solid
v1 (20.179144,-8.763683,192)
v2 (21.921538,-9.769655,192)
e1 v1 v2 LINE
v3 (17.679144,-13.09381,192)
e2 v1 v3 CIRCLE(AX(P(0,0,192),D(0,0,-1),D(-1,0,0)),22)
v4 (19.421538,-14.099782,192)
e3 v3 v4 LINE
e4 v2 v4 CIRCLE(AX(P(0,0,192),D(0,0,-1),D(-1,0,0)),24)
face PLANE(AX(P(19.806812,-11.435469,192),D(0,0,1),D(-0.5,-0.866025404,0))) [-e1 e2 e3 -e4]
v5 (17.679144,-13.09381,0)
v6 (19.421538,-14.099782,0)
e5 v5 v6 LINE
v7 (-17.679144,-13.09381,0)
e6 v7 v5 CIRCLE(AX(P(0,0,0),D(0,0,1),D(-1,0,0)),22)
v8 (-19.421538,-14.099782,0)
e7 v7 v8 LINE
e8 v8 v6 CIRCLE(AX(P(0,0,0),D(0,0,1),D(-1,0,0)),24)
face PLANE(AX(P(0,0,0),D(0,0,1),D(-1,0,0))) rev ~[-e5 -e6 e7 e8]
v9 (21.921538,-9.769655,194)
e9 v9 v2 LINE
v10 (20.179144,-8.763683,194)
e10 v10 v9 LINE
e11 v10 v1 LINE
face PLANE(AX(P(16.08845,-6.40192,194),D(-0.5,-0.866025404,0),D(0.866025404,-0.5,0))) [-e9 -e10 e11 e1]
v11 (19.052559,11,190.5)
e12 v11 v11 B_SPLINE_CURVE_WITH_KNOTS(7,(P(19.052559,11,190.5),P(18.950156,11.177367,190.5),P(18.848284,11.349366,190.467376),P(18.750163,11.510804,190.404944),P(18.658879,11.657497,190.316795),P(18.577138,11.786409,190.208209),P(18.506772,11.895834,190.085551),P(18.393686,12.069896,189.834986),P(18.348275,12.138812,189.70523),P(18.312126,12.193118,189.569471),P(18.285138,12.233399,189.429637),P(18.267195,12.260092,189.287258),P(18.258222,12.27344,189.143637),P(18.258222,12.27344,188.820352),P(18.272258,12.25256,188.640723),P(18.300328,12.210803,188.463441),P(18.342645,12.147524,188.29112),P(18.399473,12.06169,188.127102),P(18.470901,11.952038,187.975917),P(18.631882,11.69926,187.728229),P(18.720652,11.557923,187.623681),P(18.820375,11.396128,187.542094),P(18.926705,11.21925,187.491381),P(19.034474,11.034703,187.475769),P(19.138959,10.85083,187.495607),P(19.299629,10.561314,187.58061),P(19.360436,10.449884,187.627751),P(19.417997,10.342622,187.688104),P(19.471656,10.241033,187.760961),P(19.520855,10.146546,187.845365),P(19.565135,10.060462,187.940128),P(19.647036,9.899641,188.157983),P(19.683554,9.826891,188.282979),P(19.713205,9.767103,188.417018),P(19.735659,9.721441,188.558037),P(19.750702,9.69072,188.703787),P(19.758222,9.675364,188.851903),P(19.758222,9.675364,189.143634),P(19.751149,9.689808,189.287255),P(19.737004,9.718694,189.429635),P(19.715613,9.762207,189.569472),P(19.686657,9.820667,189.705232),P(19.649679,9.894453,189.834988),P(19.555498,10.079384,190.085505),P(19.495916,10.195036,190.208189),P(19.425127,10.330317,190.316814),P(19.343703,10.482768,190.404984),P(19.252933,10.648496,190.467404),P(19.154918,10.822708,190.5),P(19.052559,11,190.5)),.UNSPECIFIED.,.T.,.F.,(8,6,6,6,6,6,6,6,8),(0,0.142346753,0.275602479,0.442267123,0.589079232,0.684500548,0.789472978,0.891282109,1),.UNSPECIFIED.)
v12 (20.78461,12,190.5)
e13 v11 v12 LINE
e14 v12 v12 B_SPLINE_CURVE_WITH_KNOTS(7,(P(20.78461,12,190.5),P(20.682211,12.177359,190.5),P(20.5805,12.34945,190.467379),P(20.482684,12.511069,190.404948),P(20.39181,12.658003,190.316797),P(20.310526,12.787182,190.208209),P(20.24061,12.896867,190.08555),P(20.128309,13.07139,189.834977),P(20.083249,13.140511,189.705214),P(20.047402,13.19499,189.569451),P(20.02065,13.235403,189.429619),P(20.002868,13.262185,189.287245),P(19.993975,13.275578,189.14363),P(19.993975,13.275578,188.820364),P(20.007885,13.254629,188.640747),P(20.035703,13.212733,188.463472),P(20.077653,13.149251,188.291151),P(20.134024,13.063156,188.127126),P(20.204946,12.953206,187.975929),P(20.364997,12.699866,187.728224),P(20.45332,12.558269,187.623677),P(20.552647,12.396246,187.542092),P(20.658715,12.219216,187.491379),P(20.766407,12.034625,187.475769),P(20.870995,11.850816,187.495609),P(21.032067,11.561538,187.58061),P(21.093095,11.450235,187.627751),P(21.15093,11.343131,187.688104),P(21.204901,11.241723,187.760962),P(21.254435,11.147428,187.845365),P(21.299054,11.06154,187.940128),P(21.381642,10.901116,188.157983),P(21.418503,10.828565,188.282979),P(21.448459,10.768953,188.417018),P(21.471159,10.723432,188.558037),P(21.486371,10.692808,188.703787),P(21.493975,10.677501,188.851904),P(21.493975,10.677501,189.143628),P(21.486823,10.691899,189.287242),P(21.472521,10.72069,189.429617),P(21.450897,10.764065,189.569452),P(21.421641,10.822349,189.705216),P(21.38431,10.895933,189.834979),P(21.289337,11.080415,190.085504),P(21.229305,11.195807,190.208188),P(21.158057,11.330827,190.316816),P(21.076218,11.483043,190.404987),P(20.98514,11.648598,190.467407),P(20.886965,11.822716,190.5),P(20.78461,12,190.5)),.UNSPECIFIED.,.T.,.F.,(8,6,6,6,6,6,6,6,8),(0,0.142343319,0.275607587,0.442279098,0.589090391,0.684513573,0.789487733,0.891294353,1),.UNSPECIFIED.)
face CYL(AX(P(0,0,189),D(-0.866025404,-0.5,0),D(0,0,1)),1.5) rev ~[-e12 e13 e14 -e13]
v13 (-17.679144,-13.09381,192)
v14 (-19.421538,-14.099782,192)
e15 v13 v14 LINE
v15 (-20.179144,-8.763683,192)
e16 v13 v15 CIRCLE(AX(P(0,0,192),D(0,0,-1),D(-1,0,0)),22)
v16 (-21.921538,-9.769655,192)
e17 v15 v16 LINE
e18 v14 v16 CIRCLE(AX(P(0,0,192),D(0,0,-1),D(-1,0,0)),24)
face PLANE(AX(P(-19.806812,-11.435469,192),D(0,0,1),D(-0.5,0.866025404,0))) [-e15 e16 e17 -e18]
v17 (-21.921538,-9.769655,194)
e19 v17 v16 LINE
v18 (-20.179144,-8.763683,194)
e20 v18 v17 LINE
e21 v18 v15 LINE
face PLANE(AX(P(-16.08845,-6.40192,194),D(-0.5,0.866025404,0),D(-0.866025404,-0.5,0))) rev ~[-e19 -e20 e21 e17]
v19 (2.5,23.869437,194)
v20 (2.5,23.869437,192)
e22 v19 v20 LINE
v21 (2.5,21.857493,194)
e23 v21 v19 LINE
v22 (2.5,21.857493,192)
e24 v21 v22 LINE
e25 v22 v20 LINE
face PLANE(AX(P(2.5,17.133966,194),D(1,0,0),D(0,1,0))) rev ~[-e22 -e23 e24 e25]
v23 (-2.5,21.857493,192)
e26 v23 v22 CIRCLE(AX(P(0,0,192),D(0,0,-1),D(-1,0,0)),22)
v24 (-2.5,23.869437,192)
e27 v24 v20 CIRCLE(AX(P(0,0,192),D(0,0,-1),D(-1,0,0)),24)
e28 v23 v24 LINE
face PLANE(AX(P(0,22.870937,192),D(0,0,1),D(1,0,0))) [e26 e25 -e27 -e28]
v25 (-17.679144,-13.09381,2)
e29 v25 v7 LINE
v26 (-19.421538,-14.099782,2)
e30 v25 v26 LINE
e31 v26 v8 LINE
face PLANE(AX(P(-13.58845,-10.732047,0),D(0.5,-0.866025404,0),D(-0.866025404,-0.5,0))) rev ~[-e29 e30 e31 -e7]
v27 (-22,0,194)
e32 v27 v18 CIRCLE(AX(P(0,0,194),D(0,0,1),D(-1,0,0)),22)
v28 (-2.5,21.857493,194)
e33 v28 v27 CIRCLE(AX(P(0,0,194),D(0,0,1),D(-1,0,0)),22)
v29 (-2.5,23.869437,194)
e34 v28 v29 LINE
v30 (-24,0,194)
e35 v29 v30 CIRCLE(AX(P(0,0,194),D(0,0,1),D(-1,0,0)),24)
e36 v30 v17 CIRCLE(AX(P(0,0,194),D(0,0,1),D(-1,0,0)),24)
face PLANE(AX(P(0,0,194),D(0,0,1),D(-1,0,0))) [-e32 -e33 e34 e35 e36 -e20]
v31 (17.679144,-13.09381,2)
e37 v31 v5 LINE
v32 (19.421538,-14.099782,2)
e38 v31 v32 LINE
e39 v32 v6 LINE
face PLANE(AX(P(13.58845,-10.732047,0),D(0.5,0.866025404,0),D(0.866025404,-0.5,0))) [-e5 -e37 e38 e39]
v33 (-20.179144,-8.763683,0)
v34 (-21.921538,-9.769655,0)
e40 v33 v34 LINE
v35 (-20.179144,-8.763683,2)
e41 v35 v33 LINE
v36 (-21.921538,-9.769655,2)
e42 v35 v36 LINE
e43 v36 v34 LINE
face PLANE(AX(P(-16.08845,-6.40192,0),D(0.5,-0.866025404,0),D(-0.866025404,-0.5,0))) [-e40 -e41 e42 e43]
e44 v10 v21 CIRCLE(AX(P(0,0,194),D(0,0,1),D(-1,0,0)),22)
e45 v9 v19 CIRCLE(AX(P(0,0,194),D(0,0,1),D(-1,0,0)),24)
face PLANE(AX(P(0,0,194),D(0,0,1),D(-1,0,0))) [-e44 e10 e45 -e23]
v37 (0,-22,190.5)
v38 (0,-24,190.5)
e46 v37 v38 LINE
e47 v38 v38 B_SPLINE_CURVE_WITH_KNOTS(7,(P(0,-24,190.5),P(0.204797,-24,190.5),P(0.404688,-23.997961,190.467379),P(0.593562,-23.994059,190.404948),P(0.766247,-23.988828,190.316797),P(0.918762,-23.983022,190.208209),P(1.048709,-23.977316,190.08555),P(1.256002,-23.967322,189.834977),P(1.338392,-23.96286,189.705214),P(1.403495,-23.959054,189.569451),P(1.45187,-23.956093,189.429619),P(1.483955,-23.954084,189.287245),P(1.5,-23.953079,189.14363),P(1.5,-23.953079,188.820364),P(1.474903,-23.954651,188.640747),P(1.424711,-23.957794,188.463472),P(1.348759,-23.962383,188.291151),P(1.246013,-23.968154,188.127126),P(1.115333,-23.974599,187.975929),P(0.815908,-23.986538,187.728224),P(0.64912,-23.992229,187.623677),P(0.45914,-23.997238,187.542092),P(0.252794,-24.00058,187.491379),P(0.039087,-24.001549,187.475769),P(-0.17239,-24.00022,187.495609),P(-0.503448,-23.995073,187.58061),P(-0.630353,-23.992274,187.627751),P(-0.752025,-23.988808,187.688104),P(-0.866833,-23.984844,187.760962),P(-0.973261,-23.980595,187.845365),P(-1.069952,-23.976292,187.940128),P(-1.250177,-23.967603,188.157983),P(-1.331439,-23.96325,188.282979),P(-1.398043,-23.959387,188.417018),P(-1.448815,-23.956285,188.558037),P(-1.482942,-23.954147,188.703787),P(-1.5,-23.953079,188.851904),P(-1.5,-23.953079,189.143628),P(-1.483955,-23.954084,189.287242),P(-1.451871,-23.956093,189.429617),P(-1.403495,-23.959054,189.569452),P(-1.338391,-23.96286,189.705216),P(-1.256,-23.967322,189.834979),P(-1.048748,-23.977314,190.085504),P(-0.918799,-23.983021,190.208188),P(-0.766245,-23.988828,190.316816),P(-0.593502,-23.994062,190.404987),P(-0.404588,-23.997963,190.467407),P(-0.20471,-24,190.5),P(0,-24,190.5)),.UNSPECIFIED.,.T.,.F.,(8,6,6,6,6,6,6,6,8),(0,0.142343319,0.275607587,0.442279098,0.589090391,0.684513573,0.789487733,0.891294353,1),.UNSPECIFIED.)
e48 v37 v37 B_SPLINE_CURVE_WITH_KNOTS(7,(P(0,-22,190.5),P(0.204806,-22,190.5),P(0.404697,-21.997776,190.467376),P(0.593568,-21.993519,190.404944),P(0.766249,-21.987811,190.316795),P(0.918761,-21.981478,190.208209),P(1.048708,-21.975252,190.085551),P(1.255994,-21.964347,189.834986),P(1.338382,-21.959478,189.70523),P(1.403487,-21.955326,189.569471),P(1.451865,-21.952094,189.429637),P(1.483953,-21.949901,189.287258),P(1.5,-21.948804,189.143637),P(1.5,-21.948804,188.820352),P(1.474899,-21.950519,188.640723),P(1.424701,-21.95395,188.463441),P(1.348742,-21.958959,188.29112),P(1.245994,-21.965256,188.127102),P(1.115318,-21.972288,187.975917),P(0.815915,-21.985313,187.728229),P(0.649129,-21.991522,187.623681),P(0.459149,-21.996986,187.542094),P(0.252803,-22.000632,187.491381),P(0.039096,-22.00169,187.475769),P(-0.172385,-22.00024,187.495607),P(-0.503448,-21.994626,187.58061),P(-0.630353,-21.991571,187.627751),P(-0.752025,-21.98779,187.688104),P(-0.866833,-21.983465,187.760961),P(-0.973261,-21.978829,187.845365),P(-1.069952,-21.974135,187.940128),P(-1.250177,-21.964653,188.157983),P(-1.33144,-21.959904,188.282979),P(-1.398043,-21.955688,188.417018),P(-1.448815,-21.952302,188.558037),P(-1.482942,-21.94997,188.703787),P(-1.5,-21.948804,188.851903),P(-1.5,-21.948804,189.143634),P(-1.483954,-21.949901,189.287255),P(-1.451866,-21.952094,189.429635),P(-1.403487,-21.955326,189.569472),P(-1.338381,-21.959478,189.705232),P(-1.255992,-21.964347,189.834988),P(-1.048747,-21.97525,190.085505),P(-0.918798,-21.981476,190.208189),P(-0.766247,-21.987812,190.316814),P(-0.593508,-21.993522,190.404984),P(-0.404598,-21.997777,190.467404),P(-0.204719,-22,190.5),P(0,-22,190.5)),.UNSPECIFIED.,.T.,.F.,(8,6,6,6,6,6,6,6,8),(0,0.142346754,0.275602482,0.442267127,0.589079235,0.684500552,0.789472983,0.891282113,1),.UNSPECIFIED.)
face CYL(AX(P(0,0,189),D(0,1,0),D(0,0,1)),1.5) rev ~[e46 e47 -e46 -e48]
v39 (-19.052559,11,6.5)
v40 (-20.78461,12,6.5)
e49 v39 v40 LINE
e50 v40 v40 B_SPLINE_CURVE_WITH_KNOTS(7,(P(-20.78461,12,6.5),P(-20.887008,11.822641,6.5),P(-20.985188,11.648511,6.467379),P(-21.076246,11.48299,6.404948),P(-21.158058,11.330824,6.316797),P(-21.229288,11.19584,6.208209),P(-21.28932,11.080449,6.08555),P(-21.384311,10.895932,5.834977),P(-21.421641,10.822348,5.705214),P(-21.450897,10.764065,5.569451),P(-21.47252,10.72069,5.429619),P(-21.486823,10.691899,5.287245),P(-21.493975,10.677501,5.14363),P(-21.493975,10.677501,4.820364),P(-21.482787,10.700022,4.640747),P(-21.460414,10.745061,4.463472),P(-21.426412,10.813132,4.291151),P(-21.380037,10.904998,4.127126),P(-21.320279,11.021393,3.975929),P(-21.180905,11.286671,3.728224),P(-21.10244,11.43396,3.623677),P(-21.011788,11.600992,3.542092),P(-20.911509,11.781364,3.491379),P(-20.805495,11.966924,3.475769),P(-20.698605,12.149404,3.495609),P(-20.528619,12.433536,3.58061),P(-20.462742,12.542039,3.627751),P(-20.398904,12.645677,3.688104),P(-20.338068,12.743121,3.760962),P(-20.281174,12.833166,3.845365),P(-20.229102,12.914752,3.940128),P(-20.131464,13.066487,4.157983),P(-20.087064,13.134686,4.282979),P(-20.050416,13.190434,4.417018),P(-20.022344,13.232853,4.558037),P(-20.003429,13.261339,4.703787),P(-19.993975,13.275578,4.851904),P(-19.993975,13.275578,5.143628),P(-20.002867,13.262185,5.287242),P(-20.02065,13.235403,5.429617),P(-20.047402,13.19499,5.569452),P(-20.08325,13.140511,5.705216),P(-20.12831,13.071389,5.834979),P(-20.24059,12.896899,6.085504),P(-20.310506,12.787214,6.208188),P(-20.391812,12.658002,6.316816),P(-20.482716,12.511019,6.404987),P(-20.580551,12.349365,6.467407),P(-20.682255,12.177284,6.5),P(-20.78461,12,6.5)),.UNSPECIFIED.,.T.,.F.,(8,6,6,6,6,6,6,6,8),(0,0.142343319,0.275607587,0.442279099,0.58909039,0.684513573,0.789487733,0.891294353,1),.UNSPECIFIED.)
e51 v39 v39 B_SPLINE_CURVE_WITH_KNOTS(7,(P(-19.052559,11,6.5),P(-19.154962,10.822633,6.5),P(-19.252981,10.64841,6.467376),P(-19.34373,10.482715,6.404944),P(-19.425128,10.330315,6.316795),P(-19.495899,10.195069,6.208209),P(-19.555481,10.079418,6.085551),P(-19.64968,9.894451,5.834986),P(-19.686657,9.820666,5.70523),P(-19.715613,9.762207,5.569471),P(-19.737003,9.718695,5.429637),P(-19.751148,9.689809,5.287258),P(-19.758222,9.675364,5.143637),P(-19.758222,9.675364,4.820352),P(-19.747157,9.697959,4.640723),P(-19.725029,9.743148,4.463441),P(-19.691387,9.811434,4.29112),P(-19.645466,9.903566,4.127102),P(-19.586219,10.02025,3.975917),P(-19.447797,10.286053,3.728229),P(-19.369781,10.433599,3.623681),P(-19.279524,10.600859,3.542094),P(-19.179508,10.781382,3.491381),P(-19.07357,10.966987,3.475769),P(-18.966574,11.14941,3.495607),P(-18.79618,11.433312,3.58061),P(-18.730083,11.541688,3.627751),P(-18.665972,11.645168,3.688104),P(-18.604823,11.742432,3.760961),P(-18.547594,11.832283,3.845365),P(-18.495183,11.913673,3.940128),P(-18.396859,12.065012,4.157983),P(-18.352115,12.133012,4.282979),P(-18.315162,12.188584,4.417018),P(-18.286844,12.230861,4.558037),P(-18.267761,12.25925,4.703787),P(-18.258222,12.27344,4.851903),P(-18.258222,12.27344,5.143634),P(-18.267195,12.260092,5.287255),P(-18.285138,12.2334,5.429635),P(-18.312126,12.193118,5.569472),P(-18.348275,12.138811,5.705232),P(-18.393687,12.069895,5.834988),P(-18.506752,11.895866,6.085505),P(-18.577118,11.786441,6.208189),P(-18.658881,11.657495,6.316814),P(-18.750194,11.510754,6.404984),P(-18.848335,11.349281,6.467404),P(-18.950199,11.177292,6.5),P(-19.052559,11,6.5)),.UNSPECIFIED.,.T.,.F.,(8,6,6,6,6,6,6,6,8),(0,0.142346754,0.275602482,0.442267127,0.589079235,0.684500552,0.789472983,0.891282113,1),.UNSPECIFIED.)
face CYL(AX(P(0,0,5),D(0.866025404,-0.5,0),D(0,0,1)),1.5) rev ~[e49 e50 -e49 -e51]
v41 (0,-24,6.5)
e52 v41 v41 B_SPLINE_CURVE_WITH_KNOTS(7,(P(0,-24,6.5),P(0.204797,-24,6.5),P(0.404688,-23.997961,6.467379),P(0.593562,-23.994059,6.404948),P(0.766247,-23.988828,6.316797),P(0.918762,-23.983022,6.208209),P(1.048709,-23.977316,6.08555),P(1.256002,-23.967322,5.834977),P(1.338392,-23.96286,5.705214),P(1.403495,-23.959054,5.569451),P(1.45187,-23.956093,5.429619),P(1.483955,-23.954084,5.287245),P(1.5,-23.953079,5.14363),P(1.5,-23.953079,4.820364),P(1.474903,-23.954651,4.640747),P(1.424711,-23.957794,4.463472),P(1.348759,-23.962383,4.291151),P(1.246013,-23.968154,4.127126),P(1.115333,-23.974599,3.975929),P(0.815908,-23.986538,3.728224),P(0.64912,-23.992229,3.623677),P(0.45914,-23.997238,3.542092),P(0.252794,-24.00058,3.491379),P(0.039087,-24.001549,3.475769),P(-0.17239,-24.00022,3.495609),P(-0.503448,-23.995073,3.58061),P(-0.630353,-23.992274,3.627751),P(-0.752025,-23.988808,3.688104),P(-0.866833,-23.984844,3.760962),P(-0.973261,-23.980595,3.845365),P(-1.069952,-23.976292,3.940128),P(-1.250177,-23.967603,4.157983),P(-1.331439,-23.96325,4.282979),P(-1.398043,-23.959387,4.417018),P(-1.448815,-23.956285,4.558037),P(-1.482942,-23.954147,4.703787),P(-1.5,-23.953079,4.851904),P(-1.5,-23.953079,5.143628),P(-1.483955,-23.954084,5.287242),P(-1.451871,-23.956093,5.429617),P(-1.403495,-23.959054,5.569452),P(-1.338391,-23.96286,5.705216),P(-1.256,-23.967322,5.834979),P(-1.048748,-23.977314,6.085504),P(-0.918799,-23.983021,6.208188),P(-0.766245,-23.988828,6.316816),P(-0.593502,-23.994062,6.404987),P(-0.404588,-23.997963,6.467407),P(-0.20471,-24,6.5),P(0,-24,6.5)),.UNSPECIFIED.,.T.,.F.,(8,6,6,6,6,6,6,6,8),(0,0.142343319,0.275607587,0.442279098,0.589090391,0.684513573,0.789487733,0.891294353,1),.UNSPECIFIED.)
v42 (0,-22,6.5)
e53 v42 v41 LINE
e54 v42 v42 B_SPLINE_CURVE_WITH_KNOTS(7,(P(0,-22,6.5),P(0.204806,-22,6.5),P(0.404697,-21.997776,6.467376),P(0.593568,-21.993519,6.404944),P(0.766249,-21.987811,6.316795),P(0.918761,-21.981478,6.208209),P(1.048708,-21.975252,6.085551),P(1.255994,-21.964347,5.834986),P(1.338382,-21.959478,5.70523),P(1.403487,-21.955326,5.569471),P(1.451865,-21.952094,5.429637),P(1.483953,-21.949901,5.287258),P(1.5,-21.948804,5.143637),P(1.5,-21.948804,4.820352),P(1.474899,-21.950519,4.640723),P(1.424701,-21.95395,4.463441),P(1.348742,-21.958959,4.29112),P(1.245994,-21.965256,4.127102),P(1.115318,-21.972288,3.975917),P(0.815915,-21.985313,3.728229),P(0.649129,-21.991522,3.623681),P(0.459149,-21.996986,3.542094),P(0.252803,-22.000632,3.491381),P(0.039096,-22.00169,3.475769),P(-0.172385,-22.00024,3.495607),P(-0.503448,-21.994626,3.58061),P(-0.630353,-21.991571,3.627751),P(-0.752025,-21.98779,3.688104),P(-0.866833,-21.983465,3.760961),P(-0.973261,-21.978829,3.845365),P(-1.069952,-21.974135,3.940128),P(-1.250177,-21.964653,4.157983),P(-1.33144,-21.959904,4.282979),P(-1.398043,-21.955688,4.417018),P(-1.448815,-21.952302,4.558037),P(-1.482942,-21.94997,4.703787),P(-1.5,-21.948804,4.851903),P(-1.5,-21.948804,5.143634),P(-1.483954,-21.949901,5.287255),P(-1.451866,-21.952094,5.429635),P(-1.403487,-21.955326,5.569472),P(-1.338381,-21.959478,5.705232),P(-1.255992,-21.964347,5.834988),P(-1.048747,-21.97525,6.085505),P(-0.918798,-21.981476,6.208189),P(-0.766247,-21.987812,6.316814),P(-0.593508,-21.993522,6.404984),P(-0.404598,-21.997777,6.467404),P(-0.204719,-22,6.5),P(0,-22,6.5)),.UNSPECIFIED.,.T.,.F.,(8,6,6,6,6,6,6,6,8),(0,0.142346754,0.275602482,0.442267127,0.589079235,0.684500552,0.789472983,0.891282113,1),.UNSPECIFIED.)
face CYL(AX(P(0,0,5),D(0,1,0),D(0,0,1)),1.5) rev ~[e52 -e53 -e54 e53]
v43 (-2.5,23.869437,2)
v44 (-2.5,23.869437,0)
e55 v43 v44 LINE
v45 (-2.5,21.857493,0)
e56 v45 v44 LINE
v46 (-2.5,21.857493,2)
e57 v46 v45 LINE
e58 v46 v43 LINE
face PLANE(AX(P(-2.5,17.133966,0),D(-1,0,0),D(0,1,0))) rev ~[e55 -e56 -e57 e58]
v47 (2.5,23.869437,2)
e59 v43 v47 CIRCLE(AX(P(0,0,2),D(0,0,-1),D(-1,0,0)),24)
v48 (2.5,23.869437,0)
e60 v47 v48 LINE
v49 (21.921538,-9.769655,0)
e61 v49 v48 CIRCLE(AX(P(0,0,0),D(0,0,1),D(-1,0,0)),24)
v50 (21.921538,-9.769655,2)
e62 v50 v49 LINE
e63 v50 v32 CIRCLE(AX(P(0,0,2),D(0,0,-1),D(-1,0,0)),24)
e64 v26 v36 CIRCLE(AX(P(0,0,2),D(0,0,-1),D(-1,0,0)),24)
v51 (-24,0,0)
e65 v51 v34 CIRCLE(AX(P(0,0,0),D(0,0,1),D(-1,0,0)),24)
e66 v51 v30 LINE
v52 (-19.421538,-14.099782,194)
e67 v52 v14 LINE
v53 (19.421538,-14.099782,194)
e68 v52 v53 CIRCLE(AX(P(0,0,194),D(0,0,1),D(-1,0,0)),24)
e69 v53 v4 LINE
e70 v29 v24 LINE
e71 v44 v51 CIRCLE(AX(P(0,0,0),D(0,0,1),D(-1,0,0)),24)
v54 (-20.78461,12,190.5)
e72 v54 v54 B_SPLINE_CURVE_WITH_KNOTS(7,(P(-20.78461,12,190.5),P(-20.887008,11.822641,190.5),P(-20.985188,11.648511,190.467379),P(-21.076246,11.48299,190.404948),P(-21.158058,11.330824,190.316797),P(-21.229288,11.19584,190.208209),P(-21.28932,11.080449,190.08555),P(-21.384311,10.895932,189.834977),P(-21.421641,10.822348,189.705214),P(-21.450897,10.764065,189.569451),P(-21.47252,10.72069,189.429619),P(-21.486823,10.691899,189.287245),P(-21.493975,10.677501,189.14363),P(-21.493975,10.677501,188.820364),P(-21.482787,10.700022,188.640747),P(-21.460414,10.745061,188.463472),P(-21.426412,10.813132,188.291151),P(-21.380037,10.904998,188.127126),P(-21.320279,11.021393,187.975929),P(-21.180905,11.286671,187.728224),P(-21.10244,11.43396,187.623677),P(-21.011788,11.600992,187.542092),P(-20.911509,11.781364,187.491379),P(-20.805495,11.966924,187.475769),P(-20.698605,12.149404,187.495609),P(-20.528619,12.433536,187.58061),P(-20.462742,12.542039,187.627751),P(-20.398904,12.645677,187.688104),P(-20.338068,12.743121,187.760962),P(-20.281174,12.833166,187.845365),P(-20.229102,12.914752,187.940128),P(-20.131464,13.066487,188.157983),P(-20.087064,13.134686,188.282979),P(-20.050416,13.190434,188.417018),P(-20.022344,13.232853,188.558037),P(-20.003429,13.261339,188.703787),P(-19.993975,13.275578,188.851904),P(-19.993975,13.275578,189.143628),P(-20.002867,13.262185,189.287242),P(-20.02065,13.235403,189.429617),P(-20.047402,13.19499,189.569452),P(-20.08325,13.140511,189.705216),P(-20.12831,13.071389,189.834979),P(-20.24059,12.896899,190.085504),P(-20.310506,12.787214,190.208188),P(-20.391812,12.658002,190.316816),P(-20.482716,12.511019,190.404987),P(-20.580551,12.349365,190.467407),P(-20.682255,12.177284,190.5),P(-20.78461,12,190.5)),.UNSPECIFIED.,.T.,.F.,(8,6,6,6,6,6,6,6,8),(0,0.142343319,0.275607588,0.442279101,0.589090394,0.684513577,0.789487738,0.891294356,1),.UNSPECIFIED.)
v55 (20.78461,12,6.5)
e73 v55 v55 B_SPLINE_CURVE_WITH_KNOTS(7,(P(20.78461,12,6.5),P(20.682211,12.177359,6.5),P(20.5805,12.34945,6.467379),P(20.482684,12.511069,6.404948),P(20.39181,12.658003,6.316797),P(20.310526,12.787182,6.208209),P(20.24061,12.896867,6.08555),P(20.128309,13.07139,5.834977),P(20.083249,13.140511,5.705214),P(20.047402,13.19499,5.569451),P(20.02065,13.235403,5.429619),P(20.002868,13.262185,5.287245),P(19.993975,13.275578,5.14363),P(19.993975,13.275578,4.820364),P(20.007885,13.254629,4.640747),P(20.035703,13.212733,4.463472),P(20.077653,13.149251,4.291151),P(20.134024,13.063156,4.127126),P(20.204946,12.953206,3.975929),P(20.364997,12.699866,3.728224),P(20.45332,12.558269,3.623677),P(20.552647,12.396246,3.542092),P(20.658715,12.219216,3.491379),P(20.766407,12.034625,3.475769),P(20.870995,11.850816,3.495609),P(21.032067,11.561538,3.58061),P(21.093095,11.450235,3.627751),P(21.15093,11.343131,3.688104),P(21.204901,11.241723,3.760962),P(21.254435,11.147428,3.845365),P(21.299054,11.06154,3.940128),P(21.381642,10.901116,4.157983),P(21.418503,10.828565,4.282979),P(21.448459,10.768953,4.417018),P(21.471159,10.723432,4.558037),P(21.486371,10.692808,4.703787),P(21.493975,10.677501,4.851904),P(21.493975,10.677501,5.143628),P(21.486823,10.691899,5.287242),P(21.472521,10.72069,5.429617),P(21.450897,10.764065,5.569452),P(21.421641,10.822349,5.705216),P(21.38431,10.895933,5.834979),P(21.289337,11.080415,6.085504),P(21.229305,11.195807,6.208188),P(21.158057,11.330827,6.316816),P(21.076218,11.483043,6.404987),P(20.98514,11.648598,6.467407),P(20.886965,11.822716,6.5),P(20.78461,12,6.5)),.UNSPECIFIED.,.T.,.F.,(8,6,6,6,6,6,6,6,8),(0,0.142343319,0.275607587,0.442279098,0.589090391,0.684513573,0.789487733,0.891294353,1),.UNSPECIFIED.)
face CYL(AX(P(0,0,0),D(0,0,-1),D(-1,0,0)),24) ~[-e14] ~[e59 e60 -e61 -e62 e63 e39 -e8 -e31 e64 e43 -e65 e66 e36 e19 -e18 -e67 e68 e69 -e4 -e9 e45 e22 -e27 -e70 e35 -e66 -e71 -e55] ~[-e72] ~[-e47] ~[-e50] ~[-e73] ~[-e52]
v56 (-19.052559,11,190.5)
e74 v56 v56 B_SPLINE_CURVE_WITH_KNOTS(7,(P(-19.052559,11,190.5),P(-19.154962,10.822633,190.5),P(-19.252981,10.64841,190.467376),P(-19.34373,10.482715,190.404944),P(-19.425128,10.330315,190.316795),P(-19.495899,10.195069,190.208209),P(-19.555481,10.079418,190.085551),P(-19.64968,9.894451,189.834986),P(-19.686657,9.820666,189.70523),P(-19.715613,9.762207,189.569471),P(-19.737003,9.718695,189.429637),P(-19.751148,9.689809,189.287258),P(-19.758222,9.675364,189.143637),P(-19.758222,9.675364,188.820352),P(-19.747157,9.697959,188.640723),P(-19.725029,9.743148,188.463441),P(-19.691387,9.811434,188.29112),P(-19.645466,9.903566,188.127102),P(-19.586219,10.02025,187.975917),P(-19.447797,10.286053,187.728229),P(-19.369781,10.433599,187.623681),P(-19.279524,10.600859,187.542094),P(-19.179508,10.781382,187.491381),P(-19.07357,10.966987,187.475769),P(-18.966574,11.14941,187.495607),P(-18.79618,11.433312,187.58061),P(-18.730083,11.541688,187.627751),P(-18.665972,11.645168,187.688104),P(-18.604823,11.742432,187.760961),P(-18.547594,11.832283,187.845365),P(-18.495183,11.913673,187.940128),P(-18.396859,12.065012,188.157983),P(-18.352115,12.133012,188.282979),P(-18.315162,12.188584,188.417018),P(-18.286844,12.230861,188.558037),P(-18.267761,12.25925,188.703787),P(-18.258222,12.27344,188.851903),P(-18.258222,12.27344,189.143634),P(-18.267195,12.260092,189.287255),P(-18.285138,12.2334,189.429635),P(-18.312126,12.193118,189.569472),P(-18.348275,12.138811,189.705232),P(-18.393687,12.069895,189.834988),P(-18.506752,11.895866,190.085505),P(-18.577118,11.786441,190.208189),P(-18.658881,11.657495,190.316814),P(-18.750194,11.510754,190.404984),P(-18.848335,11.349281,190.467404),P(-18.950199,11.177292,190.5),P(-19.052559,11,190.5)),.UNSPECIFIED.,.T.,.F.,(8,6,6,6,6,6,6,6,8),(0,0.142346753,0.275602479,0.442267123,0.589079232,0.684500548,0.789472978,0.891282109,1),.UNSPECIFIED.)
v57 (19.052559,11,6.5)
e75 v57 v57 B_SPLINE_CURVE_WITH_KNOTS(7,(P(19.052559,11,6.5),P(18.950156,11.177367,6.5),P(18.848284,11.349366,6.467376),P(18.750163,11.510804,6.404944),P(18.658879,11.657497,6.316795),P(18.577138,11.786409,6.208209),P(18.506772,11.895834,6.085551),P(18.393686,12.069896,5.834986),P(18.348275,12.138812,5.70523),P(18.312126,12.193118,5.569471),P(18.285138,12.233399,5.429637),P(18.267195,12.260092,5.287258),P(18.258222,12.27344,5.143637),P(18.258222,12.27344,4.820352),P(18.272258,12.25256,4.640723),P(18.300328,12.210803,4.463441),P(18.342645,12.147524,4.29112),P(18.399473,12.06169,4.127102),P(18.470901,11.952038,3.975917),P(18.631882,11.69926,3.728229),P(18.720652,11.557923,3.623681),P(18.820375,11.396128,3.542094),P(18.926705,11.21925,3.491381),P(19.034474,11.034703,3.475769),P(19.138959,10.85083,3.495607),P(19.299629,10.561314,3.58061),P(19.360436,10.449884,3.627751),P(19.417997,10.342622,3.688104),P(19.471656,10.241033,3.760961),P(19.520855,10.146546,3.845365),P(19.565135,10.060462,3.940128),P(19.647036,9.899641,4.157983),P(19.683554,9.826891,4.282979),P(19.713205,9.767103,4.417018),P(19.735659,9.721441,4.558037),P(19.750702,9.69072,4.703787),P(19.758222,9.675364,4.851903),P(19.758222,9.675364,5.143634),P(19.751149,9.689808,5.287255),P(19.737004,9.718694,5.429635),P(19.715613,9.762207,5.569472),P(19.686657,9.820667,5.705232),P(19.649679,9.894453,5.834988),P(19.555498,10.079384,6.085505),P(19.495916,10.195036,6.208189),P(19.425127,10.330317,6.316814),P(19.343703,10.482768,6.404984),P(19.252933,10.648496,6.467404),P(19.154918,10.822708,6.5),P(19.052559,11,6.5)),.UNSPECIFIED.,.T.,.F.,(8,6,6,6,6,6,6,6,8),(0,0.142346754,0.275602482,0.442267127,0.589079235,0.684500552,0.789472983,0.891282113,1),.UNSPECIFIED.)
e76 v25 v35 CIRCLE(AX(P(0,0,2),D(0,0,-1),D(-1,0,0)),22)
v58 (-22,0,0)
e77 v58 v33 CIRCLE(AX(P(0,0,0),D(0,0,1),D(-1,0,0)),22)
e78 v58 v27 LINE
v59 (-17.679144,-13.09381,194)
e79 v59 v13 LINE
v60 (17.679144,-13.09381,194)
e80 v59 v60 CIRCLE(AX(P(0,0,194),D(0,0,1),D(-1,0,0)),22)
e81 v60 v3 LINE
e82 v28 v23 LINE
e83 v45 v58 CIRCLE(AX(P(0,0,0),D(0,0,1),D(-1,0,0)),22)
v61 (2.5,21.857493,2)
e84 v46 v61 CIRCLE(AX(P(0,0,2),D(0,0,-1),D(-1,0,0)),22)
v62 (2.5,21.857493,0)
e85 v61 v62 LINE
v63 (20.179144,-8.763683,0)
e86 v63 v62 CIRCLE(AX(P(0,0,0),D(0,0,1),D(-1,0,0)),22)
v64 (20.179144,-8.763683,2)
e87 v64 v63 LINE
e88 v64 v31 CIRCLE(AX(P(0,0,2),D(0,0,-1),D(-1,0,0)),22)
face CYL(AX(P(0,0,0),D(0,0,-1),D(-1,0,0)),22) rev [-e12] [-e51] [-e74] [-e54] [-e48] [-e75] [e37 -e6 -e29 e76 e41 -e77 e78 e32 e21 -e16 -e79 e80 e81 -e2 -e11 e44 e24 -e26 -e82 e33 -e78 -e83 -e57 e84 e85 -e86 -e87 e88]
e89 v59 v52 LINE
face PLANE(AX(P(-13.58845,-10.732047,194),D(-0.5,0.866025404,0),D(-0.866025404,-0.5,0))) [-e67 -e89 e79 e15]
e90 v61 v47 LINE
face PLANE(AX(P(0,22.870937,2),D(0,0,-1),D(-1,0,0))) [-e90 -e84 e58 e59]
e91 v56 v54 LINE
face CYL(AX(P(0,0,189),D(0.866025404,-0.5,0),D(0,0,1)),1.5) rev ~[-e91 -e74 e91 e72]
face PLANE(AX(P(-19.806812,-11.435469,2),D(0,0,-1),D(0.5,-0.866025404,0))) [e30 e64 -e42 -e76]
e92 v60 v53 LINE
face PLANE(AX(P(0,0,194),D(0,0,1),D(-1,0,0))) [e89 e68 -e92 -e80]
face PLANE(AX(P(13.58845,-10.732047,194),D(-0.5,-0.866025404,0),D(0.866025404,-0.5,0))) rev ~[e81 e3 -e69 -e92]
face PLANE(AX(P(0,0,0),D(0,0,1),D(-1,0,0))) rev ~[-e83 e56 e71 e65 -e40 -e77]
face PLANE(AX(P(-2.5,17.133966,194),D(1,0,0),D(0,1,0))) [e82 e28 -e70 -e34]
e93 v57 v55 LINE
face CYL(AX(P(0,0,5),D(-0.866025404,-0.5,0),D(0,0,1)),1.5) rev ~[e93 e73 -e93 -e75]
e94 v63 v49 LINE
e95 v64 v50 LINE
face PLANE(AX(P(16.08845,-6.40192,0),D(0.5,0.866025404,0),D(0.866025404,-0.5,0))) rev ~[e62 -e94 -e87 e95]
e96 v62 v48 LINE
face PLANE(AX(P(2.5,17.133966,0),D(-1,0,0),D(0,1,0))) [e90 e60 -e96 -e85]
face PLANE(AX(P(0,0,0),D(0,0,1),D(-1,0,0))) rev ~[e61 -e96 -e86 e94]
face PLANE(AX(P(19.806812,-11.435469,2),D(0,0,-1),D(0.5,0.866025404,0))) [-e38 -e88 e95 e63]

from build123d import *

# Parameters (mm, degrees)
SKETCH_1_R               = 24
SKETCH_1_R_2             = 22
EXTRUDE_1_DEPTH          = 194
SKETCH_2_R               = 1.5
CUT_EXTRUDE_1_DEPTH      = 88
PATTERN_CIRCULAR_1_COUNT = 3
SKETCH_3_W               = 5
SKETCH_3_H               = 11.473941433
CUT_EXTRUDE_2_DEPTH      = 2
PATTERN_CIRCULAR_2_COUNT = 3
SKETCH_4_W               = 5
SKETCH_4_H               = 11.473941433
CUT_EXTRUDE_3_DEPTH      = 2
PATTERN_CIRCULAR_3_COUNT = 3


with BuildPart() as part:
    # Эскиз1 → Бобышка-Вытянуть1 (new body)
    with BuildSketch(Plane.XY):
        with Locations(Location((0, 0, 0), (0, 0, 180))):
            Circle(SKETCH_1_R)
        with Locations(Location((0, 0, 0), (0, 0, 180))):
            Circle(SKETCH_1_R_2, mode=Mode.SUBTRACT)
    extrude(amount=EXTRUDE_1_DEPTH)

    # Эскиз2 → Вырез-Вытянуть1 (cut)
    with BuildSketch(Plane(origin=(0, 0, 0), x_dir=(1, 0, 0), z_dir=(0, 1, 0))):
        with Locations(Location((0, -5, 0), (0, 0, 270))):
            Circle(SKETCH_2_R)
        with Locations(Location((0, -189, 0), (0, 0, 270))):
            Circle(SKETCH_2_R)
    cut_extrude_1 = extrude(amount=-CUT_EXTRUDE_1_DEPTH, mode=Mode.SUBTRACT)

    # Круговой массив1: Вырез-Вытянуть1 ×3 about axis
    pattern_circular_1_axis = Axis((0, 0, 194), (0, 0, -1))
    for i in range(1, PATTERN_CIRCULAR_1_COUNT):
        add(cut_extrude_1.rotate(pattern_circular_1_axis, i * 360 / PATTERN_CIRCULAR_1_COUNT), mode=Mode.SUBTRACT)

    # Эскиз3 → Вырез-Вытянуть2 (cut)
    with BuildSketch(Plane(origin=(0, 0, 0), x_dir=(-1, 0, 0), z_dir=(0, 0, -1))):
        with Locations((0, 22.870937025)):
            Rectangle(SKETCH_3_W, SKETCH_3_H)
    cut_extrude_2 = extrude(amount=-CUT_EXTRUDE_2_DEPTH, mode=Mode.SUBTRACT)

    # Круговой массив2: Вырез-Вытянуть2 ×3 about axis
    pattern_circular_2_axis = Axis((0, 0, 0), (0, 0, 1))
    for i in range(1, PATTERN_CIRCULAR_2_COUNT):
        add(cut_extrude_2.rotate(pattern_circular_2_axis, i * 360 / PATTERN_CIRCULAR_2_COUNT), mode=Mode.SUBTRACT)

    # Эскиз4 → Вырез-Вытянуть3 (cut)
    with BuildSketch(Plane.XY.offset(194)):
        with Locations((0, 22.870937025)):
            Rectangle(SKETCH_4_W, SKETCH_4_H)
    cut_extrude_3 = extrude(amount=-CUT_EXTRUDE_3_DEPTH, mode=Mode.SUBTRACT)

    # Круговой массив3: Вырез-Вытянуть3 ×3 about axis
    pattern_circular_3_axis = Axis((0, 0, 0), (0, 0, 1))
    for i in range(1, PATTERN_CIRCULAR_3_COUNT):
        add(cut_extrude_3.rotate(pattern_circular_3_axis, i * 360 / PATTERN_CIRCULAR_3_COUNT), mode=Mode.SUBTRACT)


solid = part.part
